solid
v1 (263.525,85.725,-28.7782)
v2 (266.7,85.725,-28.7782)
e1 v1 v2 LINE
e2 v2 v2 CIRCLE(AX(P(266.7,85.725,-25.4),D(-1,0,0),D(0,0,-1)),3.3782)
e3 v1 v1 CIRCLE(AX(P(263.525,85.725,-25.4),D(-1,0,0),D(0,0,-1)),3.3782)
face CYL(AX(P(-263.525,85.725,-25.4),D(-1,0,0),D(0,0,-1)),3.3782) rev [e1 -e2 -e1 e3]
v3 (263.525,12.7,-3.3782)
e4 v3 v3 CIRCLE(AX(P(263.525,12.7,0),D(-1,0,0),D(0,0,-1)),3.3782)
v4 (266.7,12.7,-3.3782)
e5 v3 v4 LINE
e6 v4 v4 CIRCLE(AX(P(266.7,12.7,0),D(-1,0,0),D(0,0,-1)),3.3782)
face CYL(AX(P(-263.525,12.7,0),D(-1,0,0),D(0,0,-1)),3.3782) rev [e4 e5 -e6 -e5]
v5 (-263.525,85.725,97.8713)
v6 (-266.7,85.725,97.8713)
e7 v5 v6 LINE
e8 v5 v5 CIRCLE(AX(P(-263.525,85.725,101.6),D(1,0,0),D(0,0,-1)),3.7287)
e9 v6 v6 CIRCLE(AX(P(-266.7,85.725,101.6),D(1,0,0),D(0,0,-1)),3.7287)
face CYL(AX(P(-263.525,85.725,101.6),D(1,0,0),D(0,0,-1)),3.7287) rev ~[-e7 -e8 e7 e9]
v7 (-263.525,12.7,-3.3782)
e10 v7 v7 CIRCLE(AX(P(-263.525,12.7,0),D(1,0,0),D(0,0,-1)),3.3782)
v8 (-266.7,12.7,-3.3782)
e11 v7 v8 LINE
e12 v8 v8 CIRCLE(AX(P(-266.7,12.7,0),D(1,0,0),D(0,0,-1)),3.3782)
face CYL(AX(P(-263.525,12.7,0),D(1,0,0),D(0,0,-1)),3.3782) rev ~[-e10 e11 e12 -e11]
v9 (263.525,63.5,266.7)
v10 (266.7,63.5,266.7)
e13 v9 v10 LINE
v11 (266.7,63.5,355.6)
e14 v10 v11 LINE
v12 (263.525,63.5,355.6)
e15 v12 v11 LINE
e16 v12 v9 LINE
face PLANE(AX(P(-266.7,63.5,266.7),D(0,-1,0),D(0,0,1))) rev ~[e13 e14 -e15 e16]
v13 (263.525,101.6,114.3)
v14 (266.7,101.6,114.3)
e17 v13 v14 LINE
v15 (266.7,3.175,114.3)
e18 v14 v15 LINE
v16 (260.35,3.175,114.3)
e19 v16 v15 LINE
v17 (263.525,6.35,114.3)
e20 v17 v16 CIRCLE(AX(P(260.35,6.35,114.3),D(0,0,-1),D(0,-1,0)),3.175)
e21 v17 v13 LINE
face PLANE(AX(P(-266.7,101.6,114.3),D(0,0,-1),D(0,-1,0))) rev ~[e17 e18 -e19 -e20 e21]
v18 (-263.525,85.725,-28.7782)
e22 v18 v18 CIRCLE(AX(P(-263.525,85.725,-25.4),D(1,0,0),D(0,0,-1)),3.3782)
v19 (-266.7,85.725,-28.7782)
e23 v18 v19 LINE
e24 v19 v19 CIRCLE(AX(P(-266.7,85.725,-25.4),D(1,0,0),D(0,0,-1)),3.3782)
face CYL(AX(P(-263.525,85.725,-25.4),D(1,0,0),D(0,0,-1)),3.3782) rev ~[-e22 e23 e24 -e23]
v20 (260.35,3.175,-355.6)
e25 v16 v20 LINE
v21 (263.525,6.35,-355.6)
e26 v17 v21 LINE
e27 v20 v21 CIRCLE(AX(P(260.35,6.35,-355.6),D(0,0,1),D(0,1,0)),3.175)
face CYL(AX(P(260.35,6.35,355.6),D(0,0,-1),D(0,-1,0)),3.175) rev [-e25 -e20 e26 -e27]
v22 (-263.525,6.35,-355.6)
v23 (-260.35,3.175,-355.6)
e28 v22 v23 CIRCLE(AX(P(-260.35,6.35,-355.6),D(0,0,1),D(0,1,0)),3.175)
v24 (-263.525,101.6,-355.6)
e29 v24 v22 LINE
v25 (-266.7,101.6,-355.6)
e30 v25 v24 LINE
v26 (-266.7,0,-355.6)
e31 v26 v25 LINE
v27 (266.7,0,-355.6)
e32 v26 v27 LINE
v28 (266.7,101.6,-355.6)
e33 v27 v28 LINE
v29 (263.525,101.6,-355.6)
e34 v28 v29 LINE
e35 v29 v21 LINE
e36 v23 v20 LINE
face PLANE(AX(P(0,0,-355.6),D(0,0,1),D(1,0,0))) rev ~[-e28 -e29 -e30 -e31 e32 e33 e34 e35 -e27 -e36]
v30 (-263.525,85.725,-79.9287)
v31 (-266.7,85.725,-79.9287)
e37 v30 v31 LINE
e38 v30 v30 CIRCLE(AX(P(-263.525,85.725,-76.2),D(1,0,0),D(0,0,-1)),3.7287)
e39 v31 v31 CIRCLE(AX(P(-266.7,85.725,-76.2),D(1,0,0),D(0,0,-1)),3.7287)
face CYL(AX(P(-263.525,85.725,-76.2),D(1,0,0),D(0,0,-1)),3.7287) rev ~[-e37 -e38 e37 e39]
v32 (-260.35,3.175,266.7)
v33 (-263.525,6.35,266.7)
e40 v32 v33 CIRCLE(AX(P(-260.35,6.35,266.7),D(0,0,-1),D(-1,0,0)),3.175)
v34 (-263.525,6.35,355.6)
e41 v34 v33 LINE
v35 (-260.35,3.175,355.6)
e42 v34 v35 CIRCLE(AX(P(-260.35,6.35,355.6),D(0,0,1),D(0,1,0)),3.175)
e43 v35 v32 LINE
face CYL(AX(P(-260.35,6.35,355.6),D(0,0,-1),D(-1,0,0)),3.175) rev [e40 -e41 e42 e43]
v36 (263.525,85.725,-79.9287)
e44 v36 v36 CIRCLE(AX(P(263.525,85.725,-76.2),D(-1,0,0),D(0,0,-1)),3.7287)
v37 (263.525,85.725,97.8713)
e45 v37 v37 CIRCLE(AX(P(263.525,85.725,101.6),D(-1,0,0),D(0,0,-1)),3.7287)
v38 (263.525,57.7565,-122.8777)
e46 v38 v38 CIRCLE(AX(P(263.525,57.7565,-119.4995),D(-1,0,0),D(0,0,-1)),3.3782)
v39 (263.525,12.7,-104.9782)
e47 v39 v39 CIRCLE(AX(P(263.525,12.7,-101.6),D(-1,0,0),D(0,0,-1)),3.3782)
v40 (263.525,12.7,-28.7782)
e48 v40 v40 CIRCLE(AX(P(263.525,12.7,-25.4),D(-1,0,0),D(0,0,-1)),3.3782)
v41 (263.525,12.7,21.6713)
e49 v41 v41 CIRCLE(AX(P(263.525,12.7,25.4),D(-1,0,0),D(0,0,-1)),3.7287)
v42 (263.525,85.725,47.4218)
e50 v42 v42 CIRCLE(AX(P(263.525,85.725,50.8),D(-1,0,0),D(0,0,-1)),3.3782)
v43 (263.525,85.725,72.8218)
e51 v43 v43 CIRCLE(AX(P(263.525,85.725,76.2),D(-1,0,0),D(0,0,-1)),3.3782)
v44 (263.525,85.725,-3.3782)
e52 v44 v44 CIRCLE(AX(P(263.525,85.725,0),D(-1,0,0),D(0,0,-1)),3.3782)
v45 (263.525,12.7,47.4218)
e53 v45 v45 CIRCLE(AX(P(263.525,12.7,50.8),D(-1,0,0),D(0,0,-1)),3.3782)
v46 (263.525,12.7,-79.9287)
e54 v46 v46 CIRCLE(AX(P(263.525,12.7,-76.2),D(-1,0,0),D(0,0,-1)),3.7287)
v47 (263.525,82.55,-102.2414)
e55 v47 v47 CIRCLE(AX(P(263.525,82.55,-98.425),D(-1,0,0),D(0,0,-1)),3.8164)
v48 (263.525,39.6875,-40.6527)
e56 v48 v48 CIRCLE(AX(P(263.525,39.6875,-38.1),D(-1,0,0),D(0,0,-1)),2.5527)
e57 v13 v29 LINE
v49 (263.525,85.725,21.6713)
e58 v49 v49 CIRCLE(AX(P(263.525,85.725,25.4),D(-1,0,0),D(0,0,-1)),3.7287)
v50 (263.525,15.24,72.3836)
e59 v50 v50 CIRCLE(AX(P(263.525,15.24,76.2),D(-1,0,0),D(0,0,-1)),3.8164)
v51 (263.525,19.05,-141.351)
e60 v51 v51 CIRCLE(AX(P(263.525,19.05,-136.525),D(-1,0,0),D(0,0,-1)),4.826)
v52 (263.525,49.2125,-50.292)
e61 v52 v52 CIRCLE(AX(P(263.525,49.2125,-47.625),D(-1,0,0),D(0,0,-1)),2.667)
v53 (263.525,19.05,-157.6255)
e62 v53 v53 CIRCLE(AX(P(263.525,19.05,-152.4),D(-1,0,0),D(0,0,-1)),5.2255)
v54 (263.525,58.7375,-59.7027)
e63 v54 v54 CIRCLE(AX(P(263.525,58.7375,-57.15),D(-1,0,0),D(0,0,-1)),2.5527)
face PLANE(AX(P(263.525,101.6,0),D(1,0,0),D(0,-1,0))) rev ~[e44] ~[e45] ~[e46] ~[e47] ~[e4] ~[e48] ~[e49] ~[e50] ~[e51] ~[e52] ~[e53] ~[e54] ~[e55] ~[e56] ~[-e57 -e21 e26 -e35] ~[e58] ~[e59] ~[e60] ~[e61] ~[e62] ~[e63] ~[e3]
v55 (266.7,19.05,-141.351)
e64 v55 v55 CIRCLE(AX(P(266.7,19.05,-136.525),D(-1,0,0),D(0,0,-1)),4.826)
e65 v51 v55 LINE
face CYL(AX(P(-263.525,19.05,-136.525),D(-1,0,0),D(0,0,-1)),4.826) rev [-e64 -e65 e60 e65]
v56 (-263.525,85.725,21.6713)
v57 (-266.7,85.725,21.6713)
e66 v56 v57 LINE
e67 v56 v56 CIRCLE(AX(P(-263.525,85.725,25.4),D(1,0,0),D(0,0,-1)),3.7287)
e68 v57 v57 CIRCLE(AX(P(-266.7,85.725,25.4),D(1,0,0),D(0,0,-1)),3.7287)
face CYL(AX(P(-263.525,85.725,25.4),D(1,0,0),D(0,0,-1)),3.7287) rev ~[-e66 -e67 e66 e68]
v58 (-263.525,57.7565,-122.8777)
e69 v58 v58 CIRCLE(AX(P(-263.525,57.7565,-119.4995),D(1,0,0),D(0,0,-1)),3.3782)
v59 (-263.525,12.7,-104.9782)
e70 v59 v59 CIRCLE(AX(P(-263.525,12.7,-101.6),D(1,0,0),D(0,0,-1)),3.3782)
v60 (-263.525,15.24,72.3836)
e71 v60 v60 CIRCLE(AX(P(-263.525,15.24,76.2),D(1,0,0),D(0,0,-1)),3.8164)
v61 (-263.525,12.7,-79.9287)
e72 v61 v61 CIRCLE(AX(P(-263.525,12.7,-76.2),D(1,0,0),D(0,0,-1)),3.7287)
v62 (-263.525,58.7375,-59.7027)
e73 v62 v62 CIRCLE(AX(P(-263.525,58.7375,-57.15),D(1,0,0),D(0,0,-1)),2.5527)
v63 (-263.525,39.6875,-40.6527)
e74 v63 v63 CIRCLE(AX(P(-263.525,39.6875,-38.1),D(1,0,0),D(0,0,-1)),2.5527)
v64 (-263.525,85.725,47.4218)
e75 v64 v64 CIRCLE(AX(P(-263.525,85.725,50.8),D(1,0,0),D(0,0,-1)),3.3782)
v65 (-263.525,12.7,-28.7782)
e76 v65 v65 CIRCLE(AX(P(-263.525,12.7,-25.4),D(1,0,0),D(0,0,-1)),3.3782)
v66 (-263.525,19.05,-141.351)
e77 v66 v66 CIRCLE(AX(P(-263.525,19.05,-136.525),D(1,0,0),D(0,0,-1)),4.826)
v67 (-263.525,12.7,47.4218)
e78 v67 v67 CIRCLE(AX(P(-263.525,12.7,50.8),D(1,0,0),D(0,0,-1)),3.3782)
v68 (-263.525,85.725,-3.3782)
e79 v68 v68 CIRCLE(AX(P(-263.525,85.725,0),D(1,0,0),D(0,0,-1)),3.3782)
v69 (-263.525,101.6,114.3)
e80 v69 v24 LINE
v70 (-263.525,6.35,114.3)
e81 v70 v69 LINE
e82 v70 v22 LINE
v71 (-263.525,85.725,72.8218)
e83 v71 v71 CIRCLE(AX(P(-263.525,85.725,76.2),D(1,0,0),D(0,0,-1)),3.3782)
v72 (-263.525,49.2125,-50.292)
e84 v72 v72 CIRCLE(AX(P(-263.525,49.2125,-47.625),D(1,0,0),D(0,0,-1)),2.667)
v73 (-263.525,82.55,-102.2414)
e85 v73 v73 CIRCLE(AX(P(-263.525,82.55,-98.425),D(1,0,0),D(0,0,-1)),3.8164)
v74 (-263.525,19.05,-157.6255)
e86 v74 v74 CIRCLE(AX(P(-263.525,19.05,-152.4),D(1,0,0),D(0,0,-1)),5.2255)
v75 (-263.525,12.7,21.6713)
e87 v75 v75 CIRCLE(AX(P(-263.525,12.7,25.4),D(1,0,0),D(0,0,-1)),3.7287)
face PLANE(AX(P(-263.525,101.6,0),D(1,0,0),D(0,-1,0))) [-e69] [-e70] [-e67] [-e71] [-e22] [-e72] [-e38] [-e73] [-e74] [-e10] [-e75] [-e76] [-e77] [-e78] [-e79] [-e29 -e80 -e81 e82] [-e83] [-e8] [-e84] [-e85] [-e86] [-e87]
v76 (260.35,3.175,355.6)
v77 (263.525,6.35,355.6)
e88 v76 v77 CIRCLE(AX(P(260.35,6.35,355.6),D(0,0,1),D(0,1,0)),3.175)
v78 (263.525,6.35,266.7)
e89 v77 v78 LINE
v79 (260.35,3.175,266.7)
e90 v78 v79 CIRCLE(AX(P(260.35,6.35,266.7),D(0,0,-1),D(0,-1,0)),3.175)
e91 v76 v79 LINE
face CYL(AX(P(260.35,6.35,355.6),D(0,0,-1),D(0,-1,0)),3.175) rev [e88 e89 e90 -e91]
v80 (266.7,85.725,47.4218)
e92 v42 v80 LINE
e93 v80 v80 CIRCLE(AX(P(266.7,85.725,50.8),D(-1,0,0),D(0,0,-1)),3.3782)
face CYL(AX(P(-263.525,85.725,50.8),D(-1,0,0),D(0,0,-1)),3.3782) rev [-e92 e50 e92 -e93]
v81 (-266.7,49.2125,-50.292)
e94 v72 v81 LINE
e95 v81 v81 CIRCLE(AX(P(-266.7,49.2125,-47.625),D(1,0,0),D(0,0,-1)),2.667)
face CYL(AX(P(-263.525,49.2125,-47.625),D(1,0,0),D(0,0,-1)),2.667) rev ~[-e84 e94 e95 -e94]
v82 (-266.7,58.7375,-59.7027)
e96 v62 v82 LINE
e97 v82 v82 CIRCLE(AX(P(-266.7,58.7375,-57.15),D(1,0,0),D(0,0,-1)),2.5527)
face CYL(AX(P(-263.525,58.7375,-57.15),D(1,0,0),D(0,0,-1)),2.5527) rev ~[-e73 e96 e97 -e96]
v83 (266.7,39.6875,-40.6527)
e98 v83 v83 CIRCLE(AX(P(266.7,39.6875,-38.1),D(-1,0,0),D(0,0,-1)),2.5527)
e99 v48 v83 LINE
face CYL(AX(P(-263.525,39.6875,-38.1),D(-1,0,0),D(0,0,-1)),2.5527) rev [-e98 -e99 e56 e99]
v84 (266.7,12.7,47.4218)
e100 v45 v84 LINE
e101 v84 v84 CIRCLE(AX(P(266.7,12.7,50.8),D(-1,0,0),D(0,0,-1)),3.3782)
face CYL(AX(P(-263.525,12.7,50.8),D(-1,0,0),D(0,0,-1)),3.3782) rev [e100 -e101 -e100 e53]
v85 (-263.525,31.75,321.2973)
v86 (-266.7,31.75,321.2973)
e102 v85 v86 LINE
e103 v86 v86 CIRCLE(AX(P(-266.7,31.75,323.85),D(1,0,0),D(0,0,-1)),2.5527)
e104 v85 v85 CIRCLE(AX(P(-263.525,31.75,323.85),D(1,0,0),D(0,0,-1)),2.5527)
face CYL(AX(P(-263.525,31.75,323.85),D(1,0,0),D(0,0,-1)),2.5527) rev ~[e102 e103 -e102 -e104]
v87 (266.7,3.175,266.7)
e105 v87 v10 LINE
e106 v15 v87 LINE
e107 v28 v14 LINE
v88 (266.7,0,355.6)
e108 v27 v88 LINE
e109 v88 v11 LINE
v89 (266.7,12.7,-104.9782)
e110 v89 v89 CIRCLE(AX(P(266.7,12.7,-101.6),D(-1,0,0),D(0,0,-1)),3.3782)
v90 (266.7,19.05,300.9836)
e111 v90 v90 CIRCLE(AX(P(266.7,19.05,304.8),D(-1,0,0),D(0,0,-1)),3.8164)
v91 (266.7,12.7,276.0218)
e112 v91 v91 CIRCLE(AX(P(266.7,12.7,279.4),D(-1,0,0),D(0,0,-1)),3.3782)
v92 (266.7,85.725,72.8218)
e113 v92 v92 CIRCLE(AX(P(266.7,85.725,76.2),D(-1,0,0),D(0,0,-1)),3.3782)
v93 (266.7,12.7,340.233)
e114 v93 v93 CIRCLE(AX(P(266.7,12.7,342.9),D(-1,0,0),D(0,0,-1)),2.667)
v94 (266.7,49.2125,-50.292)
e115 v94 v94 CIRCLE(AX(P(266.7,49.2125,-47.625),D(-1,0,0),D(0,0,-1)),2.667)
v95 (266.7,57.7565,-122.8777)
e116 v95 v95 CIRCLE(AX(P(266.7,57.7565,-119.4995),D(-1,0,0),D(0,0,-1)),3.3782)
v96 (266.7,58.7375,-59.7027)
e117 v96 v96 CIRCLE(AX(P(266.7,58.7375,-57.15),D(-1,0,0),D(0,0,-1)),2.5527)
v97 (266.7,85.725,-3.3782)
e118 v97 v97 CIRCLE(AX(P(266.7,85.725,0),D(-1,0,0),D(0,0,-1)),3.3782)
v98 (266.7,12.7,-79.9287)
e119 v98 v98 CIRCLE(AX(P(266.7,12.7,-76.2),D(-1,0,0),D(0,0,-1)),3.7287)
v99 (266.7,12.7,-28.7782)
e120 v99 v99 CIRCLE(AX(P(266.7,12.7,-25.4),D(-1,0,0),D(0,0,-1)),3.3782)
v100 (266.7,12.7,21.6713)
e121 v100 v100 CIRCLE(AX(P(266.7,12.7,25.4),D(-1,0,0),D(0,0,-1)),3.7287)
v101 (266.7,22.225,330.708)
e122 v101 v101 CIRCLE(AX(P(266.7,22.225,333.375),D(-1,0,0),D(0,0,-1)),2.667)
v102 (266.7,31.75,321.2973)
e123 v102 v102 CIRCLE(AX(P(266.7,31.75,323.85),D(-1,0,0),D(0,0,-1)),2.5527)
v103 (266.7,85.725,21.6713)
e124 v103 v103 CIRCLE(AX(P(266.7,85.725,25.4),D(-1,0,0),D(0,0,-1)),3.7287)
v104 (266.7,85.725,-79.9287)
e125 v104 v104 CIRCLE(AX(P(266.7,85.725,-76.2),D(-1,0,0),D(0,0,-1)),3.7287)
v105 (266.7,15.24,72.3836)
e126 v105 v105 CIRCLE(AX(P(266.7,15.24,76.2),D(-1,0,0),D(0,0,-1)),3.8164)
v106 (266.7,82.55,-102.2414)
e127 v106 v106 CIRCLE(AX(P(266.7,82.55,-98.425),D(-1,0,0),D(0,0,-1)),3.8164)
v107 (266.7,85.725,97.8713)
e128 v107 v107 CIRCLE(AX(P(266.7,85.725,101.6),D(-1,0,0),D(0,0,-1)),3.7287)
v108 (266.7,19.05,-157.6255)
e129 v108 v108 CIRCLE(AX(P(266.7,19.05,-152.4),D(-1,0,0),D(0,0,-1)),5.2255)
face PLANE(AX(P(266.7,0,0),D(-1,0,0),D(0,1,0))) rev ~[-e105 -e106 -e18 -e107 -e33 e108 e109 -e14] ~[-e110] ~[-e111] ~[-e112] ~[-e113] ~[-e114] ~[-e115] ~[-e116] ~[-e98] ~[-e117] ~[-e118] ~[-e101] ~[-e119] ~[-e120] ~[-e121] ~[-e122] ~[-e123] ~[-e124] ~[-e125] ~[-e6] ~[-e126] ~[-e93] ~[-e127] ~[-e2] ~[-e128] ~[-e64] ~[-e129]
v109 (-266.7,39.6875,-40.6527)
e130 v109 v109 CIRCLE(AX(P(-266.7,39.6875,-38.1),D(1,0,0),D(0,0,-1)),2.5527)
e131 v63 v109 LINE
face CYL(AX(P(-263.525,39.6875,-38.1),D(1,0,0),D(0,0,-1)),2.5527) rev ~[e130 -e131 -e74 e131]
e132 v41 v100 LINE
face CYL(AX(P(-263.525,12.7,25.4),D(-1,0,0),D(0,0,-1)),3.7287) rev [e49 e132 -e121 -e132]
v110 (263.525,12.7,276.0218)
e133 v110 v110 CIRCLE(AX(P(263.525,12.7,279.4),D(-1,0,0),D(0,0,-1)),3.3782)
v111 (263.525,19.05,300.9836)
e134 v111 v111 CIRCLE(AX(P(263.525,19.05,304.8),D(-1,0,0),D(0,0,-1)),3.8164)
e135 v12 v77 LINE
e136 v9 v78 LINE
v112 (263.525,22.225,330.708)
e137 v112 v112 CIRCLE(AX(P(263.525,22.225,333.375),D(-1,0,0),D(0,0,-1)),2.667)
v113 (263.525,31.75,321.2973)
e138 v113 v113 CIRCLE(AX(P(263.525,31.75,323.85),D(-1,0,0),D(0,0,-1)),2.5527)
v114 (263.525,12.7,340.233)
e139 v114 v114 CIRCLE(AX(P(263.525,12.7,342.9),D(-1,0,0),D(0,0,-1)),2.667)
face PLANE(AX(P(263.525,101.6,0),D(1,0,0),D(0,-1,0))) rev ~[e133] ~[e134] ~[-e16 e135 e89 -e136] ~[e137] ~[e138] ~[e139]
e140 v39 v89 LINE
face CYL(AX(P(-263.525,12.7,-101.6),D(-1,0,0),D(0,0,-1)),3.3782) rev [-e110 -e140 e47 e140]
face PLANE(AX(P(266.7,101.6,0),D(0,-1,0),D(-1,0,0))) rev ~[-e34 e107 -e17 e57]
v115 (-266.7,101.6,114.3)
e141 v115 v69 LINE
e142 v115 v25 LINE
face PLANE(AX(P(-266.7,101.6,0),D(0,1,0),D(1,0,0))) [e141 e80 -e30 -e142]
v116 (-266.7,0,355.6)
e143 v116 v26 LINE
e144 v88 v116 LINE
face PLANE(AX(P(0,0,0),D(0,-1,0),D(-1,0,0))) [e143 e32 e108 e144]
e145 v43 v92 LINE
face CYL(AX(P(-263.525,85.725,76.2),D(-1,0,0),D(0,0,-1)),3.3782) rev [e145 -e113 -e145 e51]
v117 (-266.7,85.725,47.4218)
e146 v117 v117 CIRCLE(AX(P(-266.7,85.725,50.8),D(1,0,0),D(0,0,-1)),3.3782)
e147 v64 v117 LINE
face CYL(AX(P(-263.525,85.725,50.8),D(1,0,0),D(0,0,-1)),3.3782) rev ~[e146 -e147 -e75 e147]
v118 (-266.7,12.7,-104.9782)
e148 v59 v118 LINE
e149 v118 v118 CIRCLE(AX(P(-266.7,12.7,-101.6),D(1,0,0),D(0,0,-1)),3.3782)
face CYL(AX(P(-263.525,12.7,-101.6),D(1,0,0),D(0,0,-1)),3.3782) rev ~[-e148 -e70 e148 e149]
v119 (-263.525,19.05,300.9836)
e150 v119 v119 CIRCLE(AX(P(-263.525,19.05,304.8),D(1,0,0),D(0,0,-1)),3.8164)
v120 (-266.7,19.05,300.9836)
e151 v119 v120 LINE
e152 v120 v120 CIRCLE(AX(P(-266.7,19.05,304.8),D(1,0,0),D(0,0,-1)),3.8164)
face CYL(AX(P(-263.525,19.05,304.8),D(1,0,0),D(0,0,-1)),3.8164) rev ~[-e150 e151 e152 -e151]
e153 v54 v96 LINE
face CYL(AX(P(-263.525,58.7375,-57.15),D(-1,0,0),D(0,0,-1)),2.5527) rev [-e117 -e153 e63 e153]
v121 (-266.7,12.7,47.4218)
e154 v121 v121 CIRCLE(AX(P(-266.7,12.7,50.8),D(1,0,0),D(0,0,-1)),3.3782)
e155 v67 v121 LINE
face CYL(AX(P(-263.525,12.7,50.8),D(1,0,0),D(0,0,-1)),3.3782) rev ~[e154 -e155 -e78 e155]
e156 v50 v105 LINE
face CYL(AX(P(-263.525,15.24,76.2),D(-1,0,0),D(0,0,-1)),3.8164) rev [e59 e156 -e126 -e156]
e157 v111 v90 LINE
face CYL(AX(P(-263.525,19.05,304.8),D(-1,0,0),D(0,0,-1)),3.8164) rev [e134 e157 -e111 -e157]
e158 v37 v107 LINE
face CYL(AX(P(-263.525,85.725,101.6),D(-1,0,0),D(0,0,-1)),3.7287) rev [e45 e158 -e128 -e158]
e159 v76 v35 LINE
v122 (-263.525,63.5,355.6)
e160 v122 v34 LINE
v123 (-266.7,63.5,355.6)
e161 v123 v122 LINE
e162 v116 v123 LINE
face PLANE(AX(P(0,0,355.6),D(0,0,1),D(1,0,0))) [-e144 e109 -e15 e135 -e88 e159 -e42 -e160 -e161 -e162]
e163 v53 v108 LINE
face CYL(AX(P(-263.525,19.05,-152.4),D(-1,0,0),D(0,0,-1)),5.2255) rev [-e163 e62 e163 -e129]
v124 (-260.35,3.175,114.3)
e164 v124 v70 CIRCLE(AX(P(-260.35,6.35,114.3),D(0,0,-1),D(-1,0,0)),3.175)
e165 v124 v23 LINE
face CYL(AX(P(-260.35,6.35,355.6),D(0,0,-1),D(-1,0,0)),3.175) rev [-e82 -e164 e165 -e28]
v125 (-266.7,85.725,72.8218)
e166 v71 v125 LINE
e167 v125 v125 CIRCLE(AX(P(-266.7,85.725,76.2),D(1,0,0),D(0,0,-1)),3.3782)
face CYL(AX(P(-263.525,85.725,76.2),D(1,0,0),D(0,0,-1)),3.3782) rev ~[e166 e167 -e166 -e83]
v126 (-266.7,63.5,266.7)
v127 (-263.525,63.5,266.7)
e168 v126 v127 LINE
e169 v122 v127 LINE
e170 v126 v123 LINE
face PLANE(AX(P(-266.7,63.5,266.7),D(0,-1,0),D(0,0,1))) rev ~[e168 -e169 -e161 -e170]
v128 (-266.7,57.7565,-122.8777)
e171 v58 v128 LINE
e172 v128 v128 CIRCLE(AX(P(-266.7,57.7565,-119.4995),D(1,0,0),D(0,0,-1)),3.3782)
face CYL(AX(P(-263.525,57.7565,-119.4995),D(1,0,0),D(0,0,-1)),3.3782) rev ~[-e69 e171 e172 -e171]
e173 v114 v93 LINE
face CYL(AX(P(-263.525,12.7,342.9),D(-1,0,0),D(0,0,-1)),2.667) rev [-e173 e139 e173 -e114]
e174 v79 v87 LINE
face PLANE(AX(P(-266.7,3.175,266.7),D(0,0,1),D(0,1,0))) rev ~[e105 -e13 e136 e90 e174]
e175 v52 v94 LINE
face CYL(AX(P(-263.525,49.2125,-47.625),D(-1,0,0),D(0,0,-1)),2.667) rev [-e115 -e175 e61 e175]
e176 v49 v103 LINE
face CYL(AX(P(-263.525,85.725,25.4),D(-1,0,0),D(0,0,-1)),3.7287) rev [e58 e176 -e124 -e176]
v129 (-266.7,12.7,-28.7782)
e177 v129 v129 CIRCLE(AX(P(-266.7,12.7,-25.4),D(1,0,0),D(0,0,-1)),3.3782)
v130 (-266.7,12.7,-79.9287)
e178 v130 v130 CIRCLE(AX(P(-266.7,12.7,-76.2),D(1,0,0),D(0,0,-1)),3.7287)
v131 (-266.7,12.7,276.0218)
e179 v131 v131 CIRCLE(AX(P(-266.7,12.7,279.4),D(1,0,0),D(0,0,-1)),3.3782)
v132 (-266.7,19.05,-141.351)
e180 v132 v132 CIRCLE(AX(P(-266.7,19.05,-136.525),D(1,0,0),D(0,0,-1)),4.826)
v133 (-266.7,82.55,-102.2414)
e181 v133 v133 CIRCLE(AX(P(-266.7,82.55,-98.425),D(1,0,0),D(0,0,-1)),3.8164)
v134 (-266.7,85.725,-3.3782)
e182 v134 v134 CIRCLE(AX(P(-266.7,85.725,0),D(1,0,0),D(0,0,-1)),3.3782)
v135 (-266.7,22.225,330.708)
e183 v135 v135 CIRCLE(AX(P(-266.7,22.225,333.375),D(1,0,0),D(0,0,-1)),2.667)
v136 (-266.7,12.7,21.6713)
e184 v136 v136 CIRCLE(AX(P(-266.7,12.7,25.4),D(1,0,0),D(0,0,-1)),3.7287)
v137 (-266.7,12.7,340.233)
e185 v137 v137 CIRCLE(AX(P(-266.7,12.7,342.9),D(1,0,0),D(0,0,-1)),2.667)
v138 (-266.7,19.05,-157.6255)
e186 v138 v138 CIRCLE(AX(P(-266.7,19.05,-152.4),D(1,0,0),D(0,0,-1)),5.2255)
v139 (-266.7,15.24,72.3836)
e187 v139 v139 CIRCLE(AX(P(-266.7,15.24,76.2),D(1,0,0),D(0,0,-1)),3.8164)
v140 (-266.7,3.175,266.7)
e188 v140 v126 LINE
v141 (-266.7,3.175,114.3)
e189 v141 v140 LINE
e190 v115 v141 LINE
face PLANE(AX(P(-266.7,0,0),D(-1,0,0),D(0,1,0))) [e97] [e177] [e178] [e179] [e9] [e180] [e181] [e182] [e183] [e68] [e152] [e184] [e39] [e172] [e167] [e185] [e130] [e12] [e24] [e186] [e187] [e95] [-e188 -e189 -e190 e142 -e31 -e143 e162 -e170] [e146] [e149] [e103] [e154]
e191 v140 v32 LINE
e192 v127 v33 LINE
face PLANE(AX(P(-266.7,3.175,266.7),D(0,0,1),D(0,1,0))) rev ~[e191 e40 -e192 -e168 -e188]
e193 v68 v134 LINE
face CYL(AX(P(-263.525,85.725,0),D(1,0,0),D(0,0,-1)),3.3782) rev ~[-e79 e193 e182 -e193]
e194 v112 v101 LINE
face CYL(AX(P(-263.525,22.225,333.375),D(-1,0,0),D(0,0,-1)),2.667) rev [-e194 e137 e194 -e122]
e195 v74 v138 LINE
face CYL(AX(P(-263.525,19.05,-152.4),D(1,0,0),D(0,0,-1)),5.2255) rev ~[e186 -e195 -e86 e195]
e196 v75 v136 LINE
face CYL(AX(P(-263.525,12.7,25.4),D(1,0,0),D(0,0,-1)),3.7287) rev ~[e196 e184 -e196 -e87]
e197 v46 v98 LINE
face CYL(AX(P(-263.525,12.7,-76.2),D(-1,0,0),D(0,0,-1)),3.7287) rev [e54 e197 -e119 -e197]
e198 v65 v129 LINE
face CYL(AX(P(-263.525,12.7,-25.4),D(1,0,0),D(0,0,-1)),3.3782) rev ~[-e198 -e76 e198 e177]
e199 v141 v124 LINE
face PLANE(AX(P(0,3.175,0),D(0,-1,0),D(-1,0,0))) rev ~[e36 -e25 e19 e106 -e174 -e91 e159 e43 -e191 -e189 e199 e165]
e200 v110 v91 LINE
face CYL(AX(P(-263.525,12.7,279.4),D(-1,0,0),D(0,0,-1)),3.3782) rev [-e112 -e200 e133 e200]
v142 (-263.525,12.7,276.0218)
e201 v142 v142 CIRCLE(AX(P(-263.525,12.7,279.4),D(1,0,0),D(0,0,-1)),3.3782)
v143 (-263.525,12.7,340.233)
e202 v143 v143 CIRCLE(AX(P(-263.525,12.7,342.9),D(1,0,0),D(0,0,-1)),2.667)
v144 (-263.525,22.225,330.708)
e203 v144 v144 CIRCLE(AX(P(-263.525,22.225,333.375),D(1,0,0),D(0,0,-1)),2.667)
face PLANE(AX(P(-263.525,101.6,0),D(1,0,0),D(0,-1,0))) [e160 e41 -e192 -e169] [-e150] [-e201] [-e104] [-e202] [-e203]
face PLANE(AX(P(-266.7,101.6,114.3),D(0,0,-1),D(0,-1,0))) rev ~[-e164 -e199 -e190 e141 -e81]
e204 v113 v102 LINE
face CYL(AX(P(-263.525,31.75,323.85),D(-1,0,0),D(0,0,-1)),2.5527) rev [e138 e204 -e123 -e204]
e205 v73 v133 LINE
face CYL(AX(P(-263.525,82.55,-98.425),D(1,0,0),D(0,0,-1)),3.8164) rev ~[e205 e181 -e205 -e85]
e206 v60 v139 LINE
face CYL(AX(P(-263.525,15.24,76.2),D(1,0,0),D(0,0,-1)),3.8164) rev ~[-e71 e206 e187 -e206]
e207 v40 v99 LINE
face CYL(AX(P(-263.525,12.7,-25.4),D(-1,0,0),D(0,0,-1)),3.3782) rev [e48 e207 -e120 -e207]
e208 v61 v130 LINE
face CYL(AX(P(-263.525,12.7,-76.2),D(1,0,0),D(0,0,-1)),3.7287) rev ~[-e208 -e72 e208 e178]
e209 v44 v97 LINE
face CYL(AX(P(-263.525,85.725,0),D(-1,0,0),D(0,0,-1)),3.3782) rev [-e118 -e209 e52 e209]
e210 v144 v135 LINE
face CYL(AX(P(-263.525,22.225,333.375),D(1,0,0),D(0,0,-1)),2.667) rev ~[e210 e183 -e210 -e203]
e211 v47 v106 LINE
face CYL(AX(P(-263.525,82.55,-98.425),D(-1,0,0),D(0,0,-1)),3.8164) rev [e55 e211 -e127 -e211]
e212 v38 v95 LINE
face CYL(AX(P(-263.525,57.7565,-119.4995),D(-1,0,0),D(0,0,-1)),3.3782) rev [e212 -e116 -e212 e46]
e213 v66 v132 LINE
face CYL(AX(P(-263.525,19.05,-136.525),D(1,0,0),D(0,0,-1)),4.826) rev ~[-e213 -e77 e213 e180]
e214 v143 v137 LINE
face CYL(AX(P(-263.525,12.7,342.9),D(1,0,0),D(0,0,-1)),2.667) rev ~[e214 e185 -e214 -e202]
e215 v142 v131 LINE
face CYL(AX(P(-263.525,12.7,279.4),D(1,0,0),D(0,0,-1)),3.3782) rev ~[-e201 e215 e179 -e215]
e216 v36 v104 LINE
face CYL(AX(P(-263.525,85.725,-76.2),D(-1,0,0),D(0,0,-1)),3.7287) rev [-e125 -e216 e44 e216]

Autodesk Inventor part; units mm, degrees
ref_plane "XZ Plane" through (0, 0, 0) normal (0, 1, 0) x (-1, 0, 0)
sketch "Sketch1" plane through (0, 0, 0) normal (0, 0, 1) x (1, 0, 0)
  line L0 (0, 0) -> (-266.7, 0)
  line L1 (-266.7, 0) -> (-266.7, 101.6)
  line L2 (-266.7, 101.6) -> (-263.525, 101.6)
  line L3 (-263.525, 101.6) -> (-263.525, 3.175)
  line L4 (0, 0) -> (0, 3.175) construction
  line L5 (0, 3.175) -> (-263.525, 3.175)
  line L6 (0, 0) -> (266.7, 0)
  line L7 (266.7, 0) -> (266.7, 101.6)
  line L8 (266.7, 101.6) -> (263.525, 101.6)
  line L9 (263.525, 101.6) -> (263.525, 3.175)
  line L10 (0, 3.175) -> (263.525, 3.175)
  dimension "d0" = 101.6
  dimension "d1" = 266.7
  dimension "d2" = 3.175
  dimension "d4" = 3.175
extrude "Extrusion1" add sketch "Sketch1" along normal mid plane 711.2
fillet "Fillet1" radius 3.175 2 edges at (-263.525, 3.175, 0) (263.525, 3.175, 0)
sketch "Sketch5" plane through (-263.525, 101.6, 355.6) normal (1, 0, 0) x (0, 0, -1)
  circle A0 centre (12.7, -34.925) radius 2.5527 projected
  circle A1 centre (22.225, -25.4) radius 2.5527 projected
  circle A2 centre (31.75, -15.875) radius 2.5527 projected
  circle A3 centre (50.8, -15.875) radius 3.3782 projected
  circle A4 centre (76.2, -15.875) radius 3.7287 projected
  circle A5 centre (12.7, -88.9) radius 2.667 projected
  circle A6 centre (22.225, -79.375) radius 2.667 projected
  circle A7 centre (31.75, -69.85) radius 2.5527 projected
  circle A8 centre (50.8, -82.55) radius 3.8164 projected
  circle A9 centre (76.2, -88.9) radius 3.3782 projected
  circle A10 centre (101.4806, -93.6752) radius 3.3782 projected
  circle A11 centre (212.631, -93.6752) radius 3.3782 projected
  circle A12 centre (228.6, -88.9) radius 3.7287 projected
  circle A13 centre (279.4, -86.36) radius 3.8164 projected
  circle A14 centre (228.6, -15.875) radius 3.3782 projected
  circle A15 centre (254, -15.875) radius 3.7287 projected
  circle A16 centre (279.4, -15.875) radius 3.3782 projected
  circle A17 centre (304.8, -15.875) radius 3.3782 projected
  circle A18 centre (330.2, -15.875) radius 3.7287 projected
  circle A19 centre (355.6, -15.875) radius 3.3782 projected
  circle A20 centre (381, -15.875) radius 3.3782 projected
  circle A21 centre (431.8, -15.875) radius 3.7287 projected
  circle A22 centre (454.025, -19.05) radius 3.8164 projected
  circle A23 centre (508, -82.55) radius 3.8164 projected
  circle A24 centre (457.2, -88.9) radius 3.3782 projected
  circle A25 centre (431.8, -88.9) radius 3.7287 projected
  circle A26 centre (475.0995, -43.8435) radius 3.3782 projected
  circle A27 centre (412.75, -42.8625) radius 2.5527 projected
  circle A28 centre (403.225, -52.3875) radius 2.667 projected
  circle A29 centre (393.7, -61.9125) radius 2.5527 projected
  circle A30 centre (381, -88.9) radius 3.3782 projected
  circle A31 centre (355.6, -88.9) radius 3.3782 projected
  circle A32 centre (330.2, -88.9) radius 3.7287 projected
  circle A33 centre (304.8, -88.9) radius 3.3782 projected
  circle A34 centre (492.125, -82.55) radius 4.826 projected
  circle A35 centre (508, -82.55) radius 5.2255 projected
  point P0 (355.6, -101.6)
extrude "Extrusion5" cut sketch "Sketch5" along normal through all both and the other way through all
sketch "Sketch12" plane through (-263.525, 19.05, -152.4) normal (1, 0, 0) x (0, 0, -1)
  circle A0 centre (0, 0) radius 4.2111
  point P0 (-152.4, -19.05)
extrude "Extrusion10" cut sketch "Sketch12" along normal through all both and the other way through all
sketch "Sketch25" plane through (-266.7, 0, 355.6) normal (-1, 0, 0) x (0, 0, 1)
  line L0 (-711.2, 3.175) -> (0, 3.175) projected
  line L1 (0, 101.6) -> (-711.2, 101.6) projected
  line L2 (-241.3, 3.175) -> (-88.9, 3.175)
  line L3 (-88.9, 3.175) -> (-88.9, 63.5)
  line L4 (-88.9, 101.6) -> (-241.3, 101.6)
  line L5 (-241.3, 101.6) -> (-241.3, 3.175)
  line L6 (0, 101.6) -> (0, 0) projected
  line L7 (0, 101.6) -> (-88.9, 101.6)
  line L8 (-88.9, 63.5) -> (0, 63.5)
  line L9 (0, 63.5) -> (0, 101.6)
  point P0 (-355.6, 0)
  dimension "d81" = 88.9
  dimension "d82" = 241.3
  dimension "d83" = 38.1
extrude "Extrusion22" cut sketch "Sketch25" against normal through all contours L5 L1 L6 L8 L3 L0
equation "\"BendRadius\" = Thickness"
equation "\"BendReliefWidth\" = Thickness"
equation "\"BendReliefDepth\" = 0.5 * Thickness"
equation "\"CornerReliefSize\" = 4 * Thickness"
equation "\"MinimumRemnant\" = 2 * Thickness"
equation "\"TransitionRadius\" = BendRadius"
equation "\"JacobiRadiusSize\" = BendRadius"
equation "\"GapSize\" = Thickness"
equation "\"Thickness\" = 3.175"
properties part number "SheetBottomFloor" material "Aluminum 6061"
